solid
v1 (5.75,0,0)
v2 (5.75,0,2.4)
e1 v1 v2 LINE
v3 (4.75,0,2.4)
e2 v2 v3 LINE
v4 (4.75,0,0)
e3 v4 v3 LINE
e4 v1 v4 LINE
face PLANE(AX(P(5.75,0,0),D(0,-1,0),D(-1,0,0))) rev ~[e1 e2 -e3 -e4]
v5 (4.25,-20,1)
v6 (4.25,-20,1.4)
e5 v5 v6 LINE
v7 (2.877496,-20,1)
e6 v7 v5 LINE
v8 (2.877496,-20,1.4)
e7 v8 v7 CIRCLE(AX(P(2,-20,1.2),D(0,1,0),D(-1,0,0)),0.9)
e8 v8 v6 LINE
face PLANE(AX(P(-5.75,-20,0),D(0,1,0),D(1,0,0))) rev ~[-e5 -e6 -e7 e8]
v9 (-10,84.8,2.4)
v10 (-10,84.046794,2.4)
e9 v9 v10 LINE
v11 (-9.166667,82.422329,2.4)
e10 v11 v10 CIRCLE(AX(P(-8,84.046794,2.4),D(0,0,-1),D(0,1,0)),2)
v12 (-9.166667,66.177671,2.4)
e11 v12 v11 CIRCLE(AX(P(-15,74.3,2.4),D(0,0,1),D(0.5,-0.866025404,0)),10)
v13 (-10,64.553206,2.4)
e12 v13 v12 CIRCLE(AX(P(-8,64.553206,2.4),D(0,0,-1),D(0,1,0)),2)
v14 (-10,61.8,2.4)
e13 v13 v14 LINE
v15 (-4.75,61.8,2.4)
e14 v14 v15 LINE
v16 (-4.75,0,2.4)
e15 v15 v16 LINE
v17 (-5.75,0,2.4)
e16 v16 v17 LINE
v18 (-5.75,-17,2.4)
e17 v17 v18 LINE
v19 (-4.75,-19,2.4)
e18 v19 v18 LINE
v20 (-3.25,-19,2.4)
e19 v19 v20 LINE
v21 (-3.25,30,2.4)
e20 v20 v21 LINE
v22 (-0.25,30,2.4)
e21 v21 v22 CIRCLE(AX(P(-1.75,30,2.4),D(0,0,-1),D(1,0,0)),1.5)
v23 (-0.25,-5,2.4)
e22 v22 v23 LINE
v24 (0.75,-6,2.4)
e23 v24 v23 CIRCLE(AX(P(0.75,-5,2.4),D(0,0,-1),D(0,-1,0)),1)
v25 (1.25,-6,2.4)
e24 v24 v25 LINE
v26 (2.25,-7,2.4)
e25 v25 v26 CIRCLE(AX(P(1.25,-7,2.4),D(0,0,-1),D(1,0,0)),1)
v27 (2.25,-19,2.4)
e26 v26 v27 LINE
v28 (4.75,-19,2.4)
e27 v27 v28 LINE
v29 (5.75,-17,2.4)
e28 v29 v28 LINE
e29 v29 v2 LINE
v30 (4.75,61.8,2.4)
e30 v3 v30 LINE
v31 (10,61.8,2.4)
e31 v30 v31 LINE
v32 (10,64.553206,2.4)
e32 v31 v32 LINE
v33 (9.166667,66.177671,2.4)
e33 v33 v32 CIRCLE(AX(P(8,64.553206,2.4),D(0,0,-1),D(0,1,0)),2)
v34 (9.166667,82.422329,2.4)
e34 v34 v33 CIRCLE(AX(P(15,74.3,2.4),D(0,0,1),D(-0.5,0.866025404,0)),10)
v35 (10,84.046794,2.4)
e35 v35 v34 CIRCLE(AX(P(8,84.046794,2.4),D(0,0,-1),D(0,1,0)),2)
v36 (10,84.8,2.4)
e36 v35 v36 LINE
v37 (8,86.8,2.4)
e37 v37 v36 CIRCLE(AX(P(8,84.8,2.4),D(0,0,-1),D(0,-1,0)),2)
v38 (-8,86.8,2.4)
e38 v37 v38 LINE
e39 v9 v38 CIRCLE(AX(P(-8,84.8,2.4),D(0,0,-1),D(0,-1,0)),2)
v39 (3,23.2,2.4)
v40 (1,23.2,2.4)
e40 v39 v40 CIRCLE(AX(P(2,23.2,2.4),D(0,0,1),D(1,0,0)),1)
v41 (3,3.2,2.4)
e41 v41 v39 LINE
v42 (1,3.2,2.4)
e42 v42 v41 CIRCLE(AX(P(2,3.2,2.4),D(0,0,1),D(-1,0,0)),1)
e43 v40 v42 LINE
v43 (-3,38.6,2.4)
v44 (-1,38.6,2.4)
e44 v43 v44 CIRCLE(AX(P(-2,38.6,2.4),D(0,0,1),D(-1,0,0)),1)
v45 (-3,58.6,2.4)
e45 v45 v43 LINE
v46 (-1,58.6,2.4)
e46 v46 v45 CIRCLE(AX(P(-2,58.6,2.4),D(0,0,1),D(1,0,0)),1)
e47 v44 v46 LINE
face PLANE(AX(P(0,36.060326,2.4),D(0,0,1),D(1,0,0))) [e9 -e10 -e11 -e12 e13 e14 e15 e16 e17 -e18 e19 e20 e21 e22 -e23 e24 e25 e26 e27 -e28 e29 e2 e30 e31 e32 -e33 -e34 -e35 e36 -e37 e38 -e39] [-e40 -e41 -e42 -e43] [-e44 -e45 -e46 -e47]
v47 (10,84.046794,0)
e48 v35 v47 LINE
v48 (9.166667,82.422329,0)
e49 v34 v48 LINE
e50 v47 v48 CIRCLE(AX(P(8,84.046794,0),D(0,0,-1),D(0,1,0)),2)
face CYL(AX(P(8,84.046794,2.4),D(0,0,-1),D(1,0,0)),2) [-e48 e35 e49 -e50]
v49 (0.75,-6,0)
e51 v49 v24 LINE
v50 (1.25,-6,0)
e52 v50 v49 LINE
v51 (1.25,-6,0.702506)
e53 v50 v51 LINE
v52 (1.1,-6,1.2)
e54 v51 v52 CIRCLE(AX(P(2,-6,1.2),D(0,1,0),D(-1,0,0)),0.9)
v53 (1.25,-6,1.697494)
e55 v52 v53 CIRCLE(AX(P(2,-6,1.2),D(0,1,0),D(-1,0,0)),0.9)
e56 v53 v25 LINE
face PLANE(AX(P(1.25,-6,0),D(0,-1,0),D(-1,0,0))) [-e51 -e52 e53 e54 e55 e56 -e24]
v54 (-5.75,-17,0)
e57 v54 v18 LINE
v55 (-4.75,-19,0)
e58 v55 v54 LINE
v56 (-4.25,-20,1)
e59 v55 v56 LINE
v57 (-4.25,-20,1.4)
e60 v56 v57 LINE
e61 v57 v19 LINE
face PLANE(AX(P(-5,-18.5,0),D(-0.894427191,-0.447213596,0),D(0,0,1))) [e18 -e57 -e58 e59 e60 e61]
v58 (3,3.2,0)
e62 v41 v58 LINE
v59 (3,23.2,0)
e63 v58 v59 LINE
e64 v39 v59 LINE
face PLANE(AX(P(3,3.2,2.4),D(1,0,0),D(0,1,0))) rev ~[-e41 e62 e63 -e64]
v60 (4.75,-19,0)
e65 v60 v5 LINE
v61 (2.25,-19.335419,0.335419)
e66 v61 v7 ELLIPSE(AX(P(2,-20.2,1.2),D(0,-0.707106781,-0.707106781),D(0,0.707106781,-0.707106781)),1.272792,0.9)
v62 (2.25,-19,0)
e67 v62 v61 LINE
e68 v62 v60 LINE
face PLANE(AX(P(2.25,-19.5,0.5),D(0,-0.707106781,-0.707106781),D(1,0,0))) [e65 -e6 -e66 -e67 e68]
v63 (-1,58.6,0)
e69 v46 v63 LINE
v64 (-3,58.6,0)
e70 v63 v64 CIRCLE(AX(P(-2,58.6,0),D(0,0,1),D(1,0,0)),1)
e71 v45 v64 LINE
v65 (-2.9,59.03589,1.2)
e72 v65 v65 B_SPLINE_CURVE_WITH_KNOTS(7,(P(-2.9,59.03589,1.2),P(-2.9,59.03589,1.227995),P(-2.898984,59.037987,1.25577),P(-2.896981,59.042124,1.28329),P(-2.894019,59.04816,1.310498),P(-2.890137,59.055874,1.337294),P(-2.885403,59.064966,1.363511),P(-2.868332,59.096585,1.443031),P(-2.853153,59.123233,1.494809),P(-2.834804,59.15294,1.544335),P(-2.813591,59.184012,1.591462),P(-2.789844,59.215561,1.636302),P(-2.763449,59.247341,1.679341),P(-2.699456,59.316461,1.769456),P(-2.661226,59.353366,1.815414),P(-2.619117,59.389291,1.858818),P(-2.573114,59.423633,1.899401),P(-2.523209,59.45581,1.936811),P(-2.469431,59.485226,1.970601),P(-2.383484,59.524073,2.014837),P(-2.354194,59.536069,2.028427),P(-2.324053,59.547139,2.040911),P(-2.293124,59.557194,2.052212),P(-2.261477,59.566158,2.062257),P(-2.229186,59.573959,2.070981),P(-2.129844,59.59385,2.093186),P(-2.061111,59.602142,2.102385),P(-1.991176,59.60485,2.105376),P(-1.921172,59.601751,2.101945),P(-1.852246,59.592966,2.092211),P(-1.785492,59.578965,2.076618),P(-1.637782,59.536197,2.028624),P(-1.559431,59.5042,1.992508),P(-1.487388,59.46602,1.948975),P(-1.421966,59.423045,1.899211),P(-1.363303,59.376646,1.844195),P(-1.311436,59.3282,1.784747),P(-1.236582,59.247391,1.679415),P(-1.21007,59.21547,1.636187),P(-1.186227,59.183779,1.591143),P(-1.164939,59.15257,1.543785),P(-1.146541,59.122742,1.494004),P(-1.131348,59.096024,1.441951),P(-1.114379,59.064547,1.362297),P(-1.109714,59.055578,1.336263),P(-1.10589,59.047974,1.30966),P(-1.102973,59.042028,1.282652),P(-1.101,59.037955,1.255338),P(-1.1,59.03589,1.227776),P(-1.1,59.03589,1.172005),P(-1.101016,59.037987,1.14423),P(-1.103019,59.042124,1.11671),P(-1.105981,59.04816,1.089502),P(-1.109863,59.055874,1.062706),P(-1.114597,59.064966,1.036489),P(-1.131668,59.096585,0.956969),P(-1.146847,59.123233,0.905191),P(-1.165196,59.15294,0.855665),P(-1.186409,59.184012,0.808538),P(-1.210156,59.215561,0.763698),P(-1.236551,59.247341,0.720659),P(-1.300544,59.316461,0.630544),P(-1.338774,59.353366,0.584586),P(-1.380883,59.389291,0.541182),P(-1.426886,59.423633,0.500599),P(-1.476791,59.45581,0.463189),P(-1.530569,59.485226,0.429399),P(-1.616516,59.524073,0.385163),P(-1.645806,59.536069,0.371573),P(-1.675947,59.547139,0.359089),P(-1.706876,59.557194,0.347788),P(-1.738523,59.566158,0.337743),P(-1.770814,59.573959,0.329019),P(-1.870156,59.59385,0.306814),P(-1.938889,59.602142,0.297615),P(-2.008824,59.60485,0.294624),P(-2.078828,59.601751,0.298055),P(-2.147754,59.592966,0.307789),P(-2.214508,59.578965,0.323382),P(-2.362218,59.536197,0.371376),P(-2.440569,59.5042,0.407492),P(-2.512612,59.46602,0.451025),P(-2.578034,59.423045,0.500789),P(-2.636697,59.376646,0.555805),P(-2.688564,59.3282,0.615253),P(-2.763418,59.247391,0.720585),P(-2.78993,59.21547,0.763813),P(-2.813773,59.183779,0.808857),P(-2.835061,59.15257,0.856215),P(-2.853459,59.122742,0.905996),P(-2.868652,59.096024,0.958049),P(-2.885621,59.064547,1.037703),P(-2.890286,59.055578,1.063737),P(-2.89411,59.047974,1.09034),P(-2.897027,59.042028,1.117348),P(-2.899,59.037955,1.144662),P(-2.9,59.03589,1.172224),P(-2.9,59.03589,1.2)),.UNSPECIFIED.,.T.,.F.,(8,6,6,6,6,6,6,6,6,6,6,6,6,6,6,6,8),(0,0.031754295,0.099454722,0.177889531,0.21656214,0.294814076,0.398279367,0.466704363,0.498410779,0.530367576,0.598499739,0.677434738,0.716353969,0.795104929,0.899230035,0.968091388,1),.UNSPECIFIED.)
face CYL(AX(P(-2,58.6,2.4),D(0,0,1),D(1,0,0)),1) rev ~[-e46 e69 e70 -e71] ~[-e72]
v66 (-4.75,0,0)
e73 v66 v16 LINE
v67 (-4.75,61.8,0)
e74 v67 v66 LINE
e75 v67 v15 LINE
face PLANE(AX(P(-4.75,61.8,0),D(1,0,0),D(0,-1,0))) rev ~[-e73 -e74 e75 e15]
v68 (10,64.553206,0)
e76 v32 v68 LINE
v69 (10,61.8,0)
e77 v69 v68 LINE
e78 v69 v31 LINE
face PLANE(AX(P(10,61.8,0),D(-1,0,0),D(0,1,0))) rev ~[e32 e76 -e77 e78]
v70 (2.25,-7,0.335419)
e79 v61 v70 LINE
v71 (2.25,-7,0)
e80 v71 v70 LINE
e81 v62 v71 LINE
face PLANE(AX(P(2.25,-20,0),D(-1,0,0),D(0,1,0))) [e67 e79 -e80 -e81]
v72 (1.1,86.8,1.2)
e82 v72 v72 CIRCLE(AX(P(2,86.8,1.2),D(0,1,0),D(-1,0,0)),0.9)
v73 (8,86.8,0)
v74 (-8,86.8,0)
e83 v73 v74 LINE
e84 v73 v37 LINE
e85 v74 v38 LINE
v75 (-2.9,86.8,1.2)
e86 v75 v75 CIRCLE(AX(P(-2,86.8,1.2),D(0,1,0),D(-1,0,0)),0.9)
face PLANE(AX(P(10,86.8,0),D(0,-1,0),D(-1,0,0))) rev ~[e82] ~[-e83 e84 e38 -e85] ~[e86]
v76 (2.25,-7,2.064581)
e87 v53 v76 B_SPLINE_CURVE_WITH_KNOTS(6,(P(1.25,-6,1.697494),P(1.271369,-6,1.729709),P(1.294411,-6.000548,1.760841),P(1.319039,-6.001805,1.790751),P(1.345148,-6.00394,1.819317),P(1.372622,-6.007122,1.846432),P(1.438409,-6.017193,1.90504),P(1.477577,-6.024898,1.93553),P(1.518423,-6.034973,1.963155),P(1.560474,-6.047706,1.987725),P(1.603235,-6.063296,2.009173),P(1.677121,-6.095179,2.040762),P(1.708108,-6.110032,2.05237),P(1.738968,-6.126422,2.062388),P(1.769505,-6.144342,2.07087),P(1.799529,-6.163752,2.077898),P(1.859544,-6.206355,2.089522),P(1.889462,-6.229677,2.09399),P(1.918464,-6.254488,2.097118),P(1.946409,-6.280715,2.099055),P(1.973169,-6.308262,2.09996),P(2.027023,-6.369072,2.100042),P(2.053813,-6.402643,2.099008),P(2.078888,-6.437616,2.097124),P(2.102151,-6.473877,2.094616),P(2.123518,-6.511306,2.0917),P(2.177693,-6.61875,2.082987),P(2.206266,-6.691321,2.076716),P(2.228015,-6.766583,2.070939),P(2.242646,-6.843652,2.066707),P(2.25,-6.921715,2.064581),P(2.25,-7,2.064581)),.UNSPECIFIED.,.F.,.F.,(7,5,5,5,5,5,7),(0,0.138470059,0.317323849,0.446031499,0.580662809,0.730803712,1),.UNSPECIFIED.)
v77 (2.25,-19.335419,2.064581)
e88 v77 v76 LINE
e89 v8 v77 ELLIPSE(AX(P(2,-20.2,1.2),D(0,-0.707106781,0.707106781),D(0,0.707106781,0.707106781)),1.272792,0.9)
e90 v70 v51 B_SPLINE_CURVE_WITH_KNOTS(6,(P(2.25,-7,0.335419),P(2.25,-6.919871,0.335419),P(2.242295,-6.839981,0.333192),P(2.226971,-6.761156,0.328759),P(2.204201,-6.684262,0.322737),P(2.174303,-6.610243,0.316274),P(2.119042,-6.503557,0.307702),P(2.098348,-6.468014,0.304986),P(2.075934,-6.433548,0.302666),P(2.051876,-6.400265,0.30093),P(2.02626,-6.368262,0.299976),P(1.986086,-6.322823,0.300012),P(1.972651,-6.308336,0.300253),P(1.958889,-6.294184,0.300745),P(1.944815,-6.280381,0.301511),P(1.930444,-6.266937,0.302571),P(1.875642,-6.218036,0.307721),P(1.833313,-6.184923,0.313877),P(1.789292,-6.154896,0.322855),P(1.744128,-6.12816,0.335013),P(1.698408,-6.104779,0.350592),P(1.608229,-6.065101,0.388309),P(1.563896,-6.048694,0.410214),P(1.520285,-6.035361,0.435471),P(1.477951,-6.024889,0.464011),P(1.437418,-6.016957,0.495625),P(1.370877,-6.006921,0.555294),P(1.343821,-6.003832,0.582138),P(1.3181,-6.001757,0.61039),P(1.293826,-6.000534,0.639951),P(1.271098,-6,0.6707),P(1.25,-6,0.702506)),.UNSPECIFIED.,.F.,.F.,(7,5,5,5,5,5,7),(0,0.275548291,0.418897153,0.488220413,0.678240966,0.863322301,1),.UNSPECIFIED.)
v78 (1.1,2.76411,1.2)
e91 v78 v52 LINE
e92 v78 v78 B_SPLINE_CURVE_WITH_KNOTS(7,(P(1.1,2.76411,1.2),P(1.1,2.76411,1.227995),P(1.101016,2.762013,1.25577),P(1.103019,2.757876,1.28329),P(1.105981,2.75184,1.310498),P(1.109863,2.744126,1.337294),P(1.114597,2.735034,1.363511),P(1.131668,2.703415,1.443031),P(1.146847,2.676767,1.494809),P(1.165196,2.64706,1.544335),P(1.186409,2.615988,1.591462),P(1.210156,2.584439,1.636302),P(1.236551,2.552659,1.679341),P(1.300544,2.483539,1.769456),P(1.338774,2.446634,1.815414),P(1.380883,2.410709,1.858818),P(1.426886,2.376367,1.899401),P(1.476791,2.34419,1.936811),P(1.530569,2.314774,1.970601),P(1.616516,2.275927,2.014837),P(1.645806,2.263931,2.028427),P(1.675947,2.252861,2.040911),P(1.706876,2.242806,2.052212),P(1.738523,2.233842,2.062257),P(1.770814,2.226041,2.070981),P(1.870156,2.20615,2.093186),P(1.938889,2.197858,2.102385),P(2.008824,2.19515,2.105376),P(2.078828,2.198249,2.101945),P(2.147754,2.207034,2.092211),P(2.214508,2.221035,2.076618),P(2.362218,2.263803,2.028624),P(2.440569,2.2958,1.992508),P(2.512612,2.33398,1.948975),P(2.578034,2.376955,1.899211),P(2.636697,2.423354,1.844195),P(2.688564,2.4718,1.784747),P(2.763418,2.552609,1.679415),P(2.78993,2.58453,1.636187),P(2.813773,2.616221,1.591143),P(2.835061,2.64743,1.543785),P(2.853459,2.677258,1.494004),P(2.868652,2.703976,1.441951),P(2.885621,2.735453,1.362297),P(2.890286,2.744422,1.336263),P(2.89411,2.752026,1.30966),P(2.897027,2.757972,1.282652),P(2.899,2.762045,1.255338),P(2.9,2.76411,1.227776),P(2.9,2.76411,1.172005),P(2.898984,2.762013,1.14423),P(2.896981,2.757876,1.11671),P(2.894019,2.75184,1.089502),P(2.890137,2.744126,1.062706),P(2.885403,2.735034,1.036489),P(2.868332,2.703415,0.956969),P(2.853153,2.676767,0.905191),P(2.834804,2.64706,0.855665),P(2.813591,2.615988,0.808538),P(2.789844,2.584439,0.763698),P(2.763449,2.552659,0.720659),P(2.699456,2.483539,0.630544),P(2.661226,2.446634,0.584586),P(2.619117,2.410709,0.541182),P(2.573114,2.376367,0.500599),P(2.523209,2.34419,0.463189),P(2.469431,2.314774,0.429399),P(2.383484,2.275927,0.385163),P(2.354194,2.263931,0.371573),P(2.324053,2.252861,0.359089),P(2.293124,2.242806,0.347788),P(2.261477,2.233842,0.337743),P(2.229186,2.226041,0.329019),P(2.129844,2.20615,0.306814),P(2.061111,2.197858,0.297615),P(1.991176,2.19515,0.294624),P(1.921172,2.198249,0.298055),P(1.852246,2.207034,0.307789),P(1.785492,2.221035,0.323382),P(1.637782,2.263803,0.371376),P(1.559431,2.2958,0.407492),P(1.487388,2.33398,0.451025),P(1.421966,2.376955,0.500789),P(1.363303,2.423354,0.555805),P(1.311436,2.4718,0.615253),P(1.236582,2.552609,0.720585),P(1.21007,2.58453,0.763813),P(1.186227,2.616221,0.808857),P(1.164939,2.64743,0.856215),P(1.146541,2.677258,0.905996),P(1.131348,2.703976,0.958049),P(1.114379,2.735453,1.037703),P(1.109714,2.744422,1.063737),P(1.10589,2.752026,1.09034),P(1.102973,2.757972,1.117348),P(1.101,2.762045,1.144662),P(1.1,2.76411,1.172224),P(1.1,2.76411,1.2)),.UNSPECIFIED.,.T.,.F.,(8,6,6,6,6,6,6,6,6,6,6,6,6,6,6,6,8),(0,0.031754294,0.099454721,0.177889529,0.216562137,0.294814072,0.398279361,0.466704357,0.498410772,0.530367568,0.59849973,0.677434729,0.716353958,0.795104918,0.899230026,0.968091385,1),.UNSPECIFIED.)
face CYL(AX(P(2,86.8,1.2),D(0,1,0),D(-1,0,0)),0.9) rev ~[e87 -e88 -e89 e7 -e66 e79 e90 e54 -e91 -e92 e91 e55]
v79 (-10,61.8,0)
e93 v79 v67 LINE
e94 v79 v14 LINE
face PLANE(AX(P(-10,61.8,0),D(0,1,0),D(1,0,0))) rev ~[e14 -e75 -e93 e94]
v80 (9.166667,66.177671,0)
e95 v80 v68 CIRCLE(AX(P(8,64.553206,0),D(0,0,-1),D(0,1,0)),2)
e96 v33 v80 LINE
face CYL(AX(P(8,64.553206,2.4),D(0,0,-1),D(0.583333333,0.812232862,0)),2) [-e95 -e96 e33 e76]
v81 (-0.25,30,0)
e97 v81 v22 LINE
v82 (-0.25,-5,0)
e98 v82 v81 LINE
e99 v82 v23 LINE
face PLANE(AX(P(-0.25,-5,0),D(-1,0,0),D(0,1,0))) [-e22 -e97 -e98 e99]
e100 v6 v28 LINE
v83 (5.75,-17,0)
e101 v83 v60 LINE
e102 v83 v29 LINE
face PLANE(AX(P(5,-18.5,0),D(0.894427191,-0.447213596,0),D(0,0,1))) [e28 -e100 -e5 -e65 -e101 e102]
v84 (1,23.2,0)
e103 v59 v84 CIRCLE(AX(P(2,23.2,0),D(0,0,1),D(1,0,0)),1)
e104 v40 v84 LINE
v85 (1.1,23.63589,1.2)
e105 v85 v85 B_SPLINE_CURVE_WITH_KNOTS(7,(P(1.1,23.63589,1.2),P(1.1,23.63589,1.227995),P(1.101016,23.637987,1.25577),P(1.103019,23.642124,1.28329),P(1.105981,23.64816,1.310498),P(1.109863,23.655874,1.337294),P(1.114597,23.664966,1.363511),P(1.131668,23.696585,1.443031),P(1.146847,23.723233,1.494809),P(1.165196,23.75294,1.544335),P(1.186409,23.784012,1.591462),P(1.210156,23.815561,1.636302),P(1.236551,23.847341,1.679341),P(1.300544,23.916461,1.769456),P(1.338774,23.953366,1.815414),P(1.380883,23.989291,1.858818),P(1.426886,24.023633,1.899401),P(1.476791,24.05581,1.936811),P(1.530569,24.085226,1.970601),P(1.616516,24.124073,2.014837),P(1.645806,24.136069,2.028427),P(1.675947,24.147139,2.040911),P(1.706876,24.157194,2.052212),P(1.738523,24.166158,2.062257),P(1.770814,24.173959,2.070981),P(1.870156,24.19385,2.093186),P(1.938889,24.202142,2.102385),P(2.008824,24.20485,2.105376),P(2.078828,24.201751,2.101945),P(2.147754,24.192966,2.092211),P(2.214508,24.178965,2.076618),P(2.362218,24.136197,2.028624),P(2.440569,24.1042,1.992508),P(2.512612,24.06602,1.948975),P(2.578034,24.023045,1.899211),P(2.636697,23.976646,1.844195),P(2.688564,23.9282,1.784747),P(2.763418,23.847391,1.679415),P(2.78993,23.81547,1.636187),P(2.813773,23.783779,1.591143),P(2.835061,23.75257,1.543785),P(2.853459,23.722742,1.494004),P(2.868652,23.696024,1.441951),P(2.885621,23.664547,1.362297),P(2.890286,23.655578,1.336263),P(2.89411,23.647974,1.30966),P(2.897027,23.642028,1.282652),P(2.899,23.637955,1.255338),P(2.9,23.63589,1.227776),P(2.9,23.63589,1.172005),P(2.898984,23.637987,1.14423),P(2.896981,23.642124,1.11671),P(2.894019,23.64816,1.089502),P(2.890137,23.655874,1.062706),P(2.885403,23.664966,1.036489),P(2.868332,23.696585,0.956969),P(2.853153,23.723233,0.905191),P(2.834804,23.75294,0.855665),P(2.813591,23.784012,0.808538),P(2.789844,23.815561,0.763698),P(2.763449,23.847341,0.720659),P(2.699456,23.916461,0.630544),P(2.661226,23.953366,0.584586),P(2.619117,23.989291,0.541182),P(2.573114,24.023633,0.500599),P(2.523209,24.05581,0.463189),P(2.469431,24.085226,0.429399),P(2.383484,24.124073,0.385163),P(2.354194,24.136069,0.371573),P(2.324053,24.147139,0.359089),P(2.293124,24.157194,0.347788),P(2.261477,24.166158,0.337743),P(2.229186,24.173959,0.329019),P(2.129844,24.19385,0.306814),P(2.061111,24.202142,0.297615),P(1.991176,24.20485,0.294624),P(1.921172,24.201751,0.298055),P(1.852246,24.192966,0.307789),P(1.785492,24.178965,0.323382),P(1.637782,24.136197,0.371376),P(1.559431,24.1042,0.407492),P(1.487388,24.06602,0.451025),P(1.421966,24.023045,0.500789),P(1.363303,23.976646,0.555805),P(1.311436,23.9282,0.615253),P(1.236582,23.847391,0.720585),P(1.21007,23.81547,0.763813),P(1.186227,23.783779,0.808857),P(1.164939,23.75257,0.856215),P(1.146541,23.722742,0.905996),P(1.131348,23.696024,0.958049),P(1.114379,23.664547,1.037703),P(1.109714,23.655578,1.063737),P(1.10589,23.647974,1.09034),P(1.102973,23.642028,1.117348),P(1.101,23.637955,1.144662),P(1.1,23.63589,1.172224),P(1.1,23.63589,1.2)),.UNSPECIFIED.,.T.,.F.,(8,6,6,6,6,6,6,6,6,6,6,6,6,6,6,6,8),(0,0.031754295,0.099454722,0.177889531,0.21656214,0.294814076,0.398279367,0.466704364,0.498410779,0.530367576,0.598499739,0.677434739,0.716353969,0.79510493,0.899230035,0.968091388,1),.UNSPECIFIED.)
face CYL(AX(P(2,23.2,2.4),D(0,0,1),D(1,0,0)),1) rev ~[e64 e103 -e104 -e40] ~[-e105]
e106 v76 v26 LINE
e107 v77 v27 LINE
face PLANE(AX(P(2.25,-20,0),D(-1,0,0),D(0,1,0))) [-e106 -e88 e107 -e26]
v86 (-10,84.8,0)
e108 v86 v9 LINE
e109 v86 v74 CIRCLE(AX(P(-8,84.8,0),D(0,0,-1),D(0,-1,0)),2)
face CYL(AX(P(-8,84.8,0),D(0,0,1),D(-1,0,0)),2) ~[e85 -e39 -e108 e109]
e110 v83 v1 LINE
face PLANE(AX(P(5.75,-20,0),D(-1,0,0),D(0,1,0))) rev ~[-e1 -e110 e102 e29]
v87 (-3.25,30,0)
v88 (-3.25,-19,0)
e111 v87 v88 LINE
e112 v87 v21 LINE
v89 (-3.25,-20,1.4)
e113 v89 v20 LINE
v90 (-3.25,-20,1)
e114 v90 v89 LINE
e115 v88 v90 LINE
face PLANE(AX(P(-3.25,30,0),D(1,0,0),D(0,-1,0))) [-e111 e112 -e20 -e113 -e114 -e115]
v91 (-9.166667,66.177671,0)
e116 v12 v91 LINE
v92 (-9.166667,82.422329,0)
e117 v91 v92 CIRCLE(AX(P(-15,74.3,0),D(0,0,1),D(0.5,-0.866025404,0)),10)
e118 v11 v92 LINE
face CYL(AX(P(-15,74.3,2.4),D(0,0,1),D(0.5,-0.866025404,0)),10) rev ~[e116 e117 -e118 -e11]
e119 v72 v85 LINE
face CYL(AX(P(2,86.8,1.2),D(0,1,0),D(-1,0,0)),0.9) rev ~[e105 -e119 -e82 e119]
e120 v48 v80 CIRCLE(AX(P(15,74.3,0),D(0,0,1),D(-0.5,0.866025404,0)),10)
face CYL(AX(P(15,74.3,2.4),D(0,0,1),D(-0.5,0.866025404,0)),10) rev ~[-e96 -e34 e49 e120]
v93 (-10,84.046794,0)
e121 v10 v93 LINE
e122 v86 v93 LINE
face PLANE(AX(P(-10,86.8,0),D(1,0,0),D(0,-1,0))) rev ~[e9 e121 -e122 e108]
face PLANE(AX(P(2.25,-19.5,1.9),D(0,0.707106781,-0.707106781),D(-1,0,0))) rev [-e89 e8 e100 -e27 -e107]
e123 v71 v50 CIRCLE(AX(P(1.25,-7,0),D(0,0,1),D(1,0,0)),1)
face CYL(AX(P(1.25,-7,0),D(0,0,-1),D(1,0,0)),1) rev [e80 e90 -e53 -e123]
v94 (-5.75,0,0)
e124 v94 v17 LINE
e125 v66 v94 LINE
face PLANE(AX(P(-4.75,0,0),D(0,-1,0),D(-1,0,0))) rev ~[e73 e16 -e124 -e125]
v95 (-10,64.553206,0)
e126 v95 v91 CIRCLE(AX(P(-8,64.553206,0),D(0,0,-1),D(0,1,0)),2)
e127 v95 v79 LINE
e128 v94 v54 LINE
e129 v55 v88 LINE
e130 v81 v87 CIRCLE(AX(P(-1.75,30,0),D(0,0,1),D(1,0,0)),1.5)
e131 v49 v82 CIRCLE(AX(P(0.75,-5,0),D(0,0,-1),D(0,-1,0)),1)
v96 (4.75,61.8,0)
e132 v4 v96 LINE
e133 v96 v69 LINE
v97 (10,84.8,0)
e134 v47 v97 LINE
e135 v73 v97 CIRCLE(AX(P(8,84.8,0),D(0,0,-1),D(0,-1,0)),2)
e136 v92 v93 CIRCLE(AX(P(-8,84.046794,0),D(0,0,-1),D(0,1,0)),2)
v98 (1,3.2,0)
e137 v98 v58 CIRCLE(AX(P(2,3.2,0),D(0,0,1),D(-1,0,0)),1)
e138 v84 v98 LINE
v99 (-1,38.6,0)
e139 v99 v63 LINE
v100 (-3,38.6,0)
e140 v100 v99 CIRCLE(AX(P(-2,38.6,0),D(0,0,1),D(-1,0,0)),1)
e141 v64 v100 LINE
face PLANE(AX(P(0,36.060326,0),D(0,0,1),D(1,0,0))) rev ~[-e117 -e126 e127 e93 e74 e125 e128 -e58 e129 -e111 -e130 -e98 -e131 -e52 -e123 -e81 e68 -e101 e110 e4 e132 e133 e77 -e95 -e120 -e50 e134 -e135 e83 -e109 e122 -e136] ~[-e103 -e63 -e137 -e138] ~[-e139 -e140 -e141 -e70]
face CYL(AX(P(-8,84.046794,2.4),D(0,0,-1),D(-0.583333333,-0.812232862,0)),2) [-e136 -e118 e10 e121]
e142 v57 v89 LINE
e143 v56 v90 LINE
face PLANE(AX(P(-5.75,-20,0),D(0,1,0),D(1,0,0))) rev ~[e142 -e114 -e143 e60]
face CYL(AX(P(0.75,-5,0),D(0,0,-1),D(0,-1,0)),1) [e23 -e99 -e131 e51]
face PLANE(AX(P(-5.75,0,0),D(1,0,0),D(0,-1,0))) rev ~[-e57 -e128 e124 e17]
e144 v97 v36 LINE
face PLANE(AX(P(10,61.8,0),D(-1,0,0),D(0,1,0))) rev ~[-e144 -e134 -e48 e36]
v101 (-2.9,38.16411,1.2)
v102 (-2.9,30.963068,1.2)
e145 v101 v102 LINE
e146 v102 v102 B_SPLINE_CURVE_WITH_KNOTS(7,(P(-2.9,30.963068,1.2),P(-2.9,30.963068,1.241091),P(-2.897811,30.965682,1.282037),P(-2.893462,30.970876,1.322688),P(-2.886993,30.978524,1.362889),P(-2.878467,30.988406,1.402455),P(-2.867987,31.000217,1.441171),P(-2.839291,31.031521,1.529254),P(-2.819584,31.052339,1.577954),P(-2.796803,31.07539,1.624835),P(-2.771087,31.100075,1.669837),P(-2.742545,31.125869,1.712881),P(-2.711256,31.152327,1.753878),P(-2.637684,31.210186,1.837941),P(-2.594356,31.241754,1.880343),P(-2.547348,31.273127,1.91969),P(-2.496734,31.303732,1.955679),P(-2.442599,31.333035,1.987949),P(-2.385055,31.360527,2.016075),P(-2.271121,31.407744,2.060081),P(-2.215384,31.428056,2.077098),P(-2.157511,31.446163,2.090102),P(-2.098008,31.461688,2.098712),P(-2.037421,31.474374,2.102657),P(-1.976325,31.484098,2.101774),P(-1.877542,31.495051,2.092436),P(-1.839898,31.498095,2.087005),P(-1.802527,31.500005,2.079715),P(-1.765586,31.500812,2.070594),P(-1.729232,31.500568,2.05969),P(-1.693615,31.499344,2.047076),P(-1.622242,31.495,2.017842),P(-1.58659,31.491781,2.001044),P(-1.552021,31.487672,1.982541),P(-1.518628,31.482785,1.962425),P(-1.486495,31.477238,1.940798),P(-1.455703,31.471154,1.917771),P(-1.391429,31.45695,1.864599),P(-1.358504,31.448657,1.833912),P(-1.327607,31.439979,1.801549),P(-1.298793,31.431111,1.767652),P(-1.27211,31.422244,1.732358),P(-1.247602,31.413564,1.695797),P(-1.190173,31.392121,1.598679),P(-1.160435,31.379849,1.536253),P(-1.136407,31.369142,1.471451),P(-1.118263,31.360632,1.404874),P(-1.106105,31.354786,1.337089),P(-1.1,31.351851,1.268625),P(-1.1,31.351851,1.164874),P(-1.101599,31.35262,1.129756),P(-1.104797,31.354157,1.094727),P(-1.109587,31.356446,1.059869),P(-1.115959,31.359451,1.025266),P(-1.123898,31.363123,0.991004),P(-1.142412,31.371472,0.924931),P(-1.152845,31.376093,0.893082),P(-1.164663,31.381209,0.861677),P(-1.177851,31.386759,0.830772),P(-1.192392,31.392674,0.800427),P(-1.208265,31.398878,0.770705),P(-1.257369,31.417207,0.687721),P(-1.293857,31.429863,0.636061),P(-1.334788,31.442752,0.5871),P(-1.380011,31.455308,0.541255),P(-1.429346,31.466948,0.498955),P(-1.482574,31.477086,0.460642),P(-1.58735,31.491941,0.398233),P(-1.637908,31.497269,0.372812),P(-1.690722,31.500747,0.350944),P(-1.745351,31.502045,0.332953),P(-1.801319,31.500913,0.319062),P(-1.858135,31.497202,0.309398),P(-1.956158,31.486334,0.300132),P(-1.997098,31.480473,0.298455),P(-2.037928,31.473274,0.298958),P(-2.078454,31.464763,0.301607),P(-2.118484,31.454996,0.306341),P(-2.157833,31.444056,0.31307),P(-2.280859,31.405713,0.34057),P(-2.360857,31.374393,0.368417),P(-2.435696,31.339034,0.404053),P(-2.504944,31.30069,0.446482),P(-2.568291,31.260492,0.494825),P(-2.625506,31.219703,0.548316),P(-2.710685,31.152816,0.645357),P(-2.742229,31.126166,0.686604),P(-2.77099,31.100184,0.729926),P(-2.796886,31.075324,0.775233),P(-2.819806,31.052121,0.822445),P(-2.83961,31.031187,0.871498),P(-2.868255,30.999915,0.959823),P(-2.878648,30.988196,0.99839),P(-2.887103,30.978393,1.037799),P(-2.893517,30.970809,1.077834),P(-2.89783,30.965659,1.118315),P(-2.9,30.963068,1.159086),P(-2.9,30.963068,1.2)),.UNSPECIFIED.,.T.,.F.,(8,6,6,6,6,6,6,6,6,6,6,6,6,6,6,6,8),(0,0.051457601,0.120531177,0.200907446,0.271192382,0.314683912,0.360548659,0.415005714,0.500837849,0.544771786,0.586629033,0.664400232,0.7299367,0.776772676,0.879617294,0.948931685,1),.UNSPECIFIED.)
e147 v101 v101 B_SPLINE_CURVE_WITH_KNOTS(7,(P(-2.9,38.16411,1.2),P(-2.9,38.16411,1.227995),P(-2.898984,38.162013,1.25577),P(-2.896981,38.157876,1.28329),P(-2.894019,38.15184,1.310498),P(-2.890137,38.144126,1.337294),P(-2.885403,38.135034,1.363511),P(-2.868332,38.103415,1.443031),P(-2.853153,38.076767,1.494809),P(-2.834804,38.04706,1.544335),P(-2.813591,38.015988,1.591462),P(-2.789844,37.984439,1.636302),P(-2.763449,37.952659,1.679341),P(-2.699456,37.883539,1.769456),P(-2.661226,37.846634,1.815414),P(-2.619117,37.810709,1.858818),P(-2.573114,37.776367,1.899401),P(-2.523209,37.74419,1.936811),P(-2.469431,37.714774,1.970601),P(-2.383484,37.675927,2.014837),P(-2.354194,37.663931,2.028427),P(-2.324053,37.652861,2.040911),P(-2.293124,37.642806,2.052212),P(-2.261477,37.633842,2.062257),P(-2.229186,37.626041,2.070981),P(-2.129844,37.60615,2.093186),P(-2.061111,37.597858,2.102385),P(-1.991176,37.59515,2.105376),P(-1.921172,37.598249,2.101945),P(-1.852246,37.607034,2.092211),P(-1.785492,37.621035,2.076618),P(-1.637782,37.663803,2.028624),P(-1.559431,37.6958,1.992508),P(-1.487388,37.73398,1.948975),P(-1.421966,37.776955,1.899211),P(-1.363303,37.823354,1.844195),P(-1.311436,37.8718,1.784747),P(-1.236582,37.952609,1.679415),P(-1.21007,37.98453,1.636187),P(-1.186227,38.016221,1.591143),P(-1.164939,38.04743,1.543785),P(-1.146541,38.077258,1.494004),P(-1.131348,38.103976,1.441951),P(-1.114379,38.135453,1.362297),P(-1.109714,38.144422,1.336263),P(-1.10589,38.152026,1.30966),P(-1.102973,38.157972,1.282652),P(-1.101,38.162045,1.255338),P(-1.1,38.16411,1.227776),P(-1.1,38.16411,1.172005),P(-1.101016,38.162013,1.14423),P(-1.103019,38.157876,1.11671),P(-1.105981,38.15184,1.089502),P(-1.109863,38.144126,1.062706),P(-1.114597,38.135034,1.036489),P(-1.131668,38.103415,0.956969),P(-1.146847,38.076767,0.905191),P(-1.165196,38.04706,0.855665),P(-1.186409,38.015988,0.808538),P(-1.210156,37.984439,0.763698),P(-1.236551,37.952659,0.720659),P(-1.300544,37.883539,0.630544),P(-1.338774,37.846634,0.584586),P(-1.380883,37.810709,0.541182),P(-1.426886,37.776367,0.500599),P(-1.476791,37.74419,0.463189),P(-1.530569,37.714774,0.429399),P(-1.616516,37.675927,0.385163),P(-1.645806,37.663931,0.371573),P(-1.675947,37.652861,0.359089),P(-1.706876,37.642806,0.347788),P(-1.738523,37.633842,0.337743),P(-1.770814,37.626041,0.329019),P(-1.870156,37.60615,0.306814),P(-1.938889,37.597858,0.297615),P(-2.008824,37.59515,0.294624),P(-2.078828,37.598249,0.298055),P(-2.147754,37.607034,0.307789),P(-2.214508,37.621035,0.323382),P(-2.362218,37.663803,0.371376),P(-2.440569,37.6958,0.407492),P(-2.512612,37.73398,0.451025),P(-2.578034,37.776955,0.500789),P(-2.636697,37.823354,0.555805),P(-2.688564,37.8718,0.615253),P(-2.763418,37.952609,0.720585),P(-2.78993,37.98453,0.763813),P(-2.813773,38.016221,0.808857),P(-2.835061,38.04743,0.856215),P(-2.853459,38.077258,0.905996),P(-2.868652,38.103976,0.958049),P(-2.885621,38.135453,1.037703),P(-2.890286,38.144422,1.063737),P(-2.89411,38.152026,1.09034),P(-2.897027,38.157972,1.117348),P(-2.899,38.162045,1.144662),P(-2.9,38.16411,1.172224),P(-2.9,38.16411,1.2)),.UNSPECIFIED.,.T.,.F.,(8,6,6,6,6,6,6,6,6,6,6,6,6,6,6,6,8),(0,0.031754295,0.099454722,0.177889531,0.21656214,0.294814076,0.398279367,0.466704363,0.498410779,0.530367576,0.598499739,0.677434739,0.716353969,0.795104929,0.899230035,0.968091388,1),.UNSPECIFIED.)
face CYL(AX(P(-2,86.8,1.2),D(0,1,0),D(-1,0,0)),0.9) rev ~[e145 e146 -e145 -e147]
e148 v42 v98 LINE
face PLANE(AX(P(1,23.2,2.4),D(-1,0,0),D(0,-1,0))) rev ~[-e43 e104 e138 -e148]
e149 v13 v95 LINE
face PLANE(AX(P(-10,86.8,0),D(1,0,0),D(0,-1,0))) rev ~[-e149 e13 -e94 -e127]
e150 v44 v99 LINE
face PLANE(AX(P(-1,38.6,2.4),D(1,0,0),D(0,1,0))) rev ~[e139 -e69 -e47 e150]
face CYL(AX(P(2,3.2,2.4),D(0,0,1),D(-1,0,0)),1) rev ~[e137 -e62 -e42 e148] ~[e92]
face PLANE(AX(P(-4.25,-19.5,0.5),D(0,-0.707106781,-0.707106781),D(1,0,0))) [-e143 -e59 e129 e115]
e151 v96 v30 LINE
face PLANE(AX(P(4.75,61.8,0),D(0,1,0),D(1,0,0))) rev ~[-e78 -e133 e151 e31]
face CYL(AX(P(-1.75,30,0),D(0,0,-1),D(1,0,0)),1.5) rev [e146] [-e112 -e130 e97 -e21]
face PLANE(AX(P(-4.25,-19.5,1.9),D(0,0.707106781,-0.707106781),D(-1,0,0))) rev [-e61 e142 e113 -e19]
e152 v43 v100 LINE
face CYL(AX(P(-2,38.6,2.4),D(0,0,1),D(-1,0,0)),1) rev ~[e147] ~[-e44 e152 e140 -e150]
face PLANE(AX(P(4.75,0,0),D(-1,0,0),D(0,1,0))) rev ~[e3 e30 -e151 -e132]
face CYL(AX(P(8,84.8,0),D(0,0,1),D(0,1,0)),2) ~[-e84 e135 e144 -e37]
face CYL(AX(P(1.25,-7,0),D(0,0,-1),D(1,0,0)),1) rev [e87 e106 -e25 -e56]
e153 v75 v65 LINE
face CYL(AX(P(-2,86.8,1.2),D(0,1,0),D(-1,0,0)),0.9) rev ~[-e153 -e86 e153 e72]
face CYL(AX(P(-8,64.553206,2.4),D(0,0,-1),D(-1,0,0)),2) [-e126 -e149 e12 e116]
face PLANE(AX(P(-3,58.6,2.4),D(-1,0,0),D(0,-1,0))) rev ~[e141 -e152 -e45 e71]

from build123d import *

# Parameters (mm, degrees)
F1_DEPTH  = 2.4
F3_DEPTH  = 2.401
F4_R      = 0.9
F5_DEPTH  = 106.801
F7_DEPTH  = 2.4010001
F9_DEPTH  = 2.4010001
F10_SIZE2 = 1.5
F10_SIZE  = 3
F11_SIZE2 = 3
F11_SIZE  = 1.5
F12_SIZE  = 1
F14_DEPTH = 2.4010001
F15_R     = 2


with BuildPart() as f1:
    # F0 (on Top) → F1 (new body)
    with BuildSketch(Plane.XY):
        Polygon((-10, 86.8), (-10, 61.8), (-4.75, 61.8), (-4.75, 0), (-5.75, 0), (-5.75, -20), (5.75, -20), (5.75, 0), (4.75, 0), (4.75, 61.8), (10, 61.8), (10, 86.8), align=None)
    extrude(amount=F1_DEPTH)

    # F2 (on Top) → F3 (cut, through all)
    with BuildSketch(Plane.XY):
        with BuildLine():
            Line((-3.25, 30), (-3.25, -20))
            Line((-3.25, -20), (2.25, -20))
            Line((2.25, -20), (2.25, -7))
            ThreePointArc((2.25, -7), (1.9571067812, -6.2928932188), (1.25, -6))
            Line((1.25, -6), (0.75, -6))
            ThreePointArc((0.75, -6), (0.0428932188, -5.7071067812), (-0.25, -5))
            Line((-0.25, -5), (-0.25, 30))
            ThreePointArc((-0.25, 30), (-1.75, 31.5), (-3.25, 30))
        make_face()
    extrude(amount=F3_DEPTH, mode=Mode.SUBTRACT)

    # F4 (on face) → F5 (cut, through all)
    with BuildSketch(Plane(origin=(0, 86.8, 0), x_dir=(-1, 0, 0), z_dir=(0, 1, 0))):
        with Locations((-2, 1.2)):
            Circle(F4_R)
        with Locations((2, 1.2)):
            Circle(F4_R)
    extrude(amount=-F5_DEPTH, mode=Mode.SUBTRACT)

    # F6 (on face) → F7 (cut, through all)
    with BuildSketch(Plane.XY.offset(2.4)):
        with BuildLine():
            Line((1, 23.2), (1, 3.2))
            ThreePointArc((1, 3.2), (2, 2.2), (3, 3.2))
            Line((3, 3.2), (3, 23.2))
            ThreePointArc((3, 23.2), (2, 24.2), (1, 23.2))
        make_face()
    extrude(amount=-F7_DEPTH, mode=Mode.SUBTRACT)

    # F8 (on face) → F9 (cut, through all)
    with BuildSketch(Plane.XY.offset(2.4)):
        with BuildLine():
            ThreePointArc((-1, 58.6), (-2, 59.6), (-3, 58.6))
            Line((-3, 58.6), (-3, 38.6))
            ThreePointArc((-3, 38.6), (-2, 37.6), (-1, 38.6))
            Line((-1, 38.6), (-1, 58.6))
        make_face()
    extrude(amount=-F9_DEPTH, mode=Mode.SUBTRACT)

    # F10
    f10_edges = [f1.edges().sort_by_distance(p)[0] for p in [
        (5.75, -20, 1.2),
    ]]
    f10_side = f1.faces().sort_by_distance((5.75, -10, 1.2))[0]
    chamfer(f10_edges, length=F10_SIZE, length2=F10_SIZE2, reference=f10_side)

    # F11
    f11_edges = [f1.edges().sort_by_distance(p)[0] for p in [
        (-5.75, -20, 1.2),
    ]]
    f11_side = f1.faces().sort_by_distance((-4.5, -20, 1.2))[0]
    chamfer(f11_edges, length=F11_SIZE, length2=F11_SIZE2, reference=f11_side)

    # F12
    f12_edges = [f1.edges().sort_by_distance(p)[0] for p in [
        (-3.75, -20, 2.4),
        (-3.75, -20, 0),
        (3.25, -20, 2.4),
        (3.25, -20, 0),
    ]]
    chamfer(f12_edges, length=F12_SIZE)

    # F13 (on face) → F14 (cut, through all)
    with BuildSketch(Plane.XY.offset(2.4)):
        with BuildLine():
            Line((10, 65.6397459622), (10, 82.9602540378))
            ThreePointArc((10, 82.9602540378), (5, 74.3), (10, 65.6397459622))
        make_face()
        with BuildLine():
            Line((-10, 82.9602540378), (-10, 65.6397459622))
            ThreePointArc((-10, 65.6397459622), (-5, 74.3), (-10, 82.9602540378))
        make_face()
    extrude(amount=-F14_DEPTH, mode=Mode.SUBTRACT)

    # F15
    f15_edges = [f1.edges().sort_by_distance(p)[0] for p in [
        (10, 82.960254, 1.2),
        (10, 65.639746, 1.2),
        (10, 86.8, 1.2),
        (-10, 65.639746, 1.2),
        (-10, 82.960254, 1.2),
        (-10, 86.8, 1.2),
    ]]
    fillet(f15_edges, radius=F15_R)


solid = f1.part
